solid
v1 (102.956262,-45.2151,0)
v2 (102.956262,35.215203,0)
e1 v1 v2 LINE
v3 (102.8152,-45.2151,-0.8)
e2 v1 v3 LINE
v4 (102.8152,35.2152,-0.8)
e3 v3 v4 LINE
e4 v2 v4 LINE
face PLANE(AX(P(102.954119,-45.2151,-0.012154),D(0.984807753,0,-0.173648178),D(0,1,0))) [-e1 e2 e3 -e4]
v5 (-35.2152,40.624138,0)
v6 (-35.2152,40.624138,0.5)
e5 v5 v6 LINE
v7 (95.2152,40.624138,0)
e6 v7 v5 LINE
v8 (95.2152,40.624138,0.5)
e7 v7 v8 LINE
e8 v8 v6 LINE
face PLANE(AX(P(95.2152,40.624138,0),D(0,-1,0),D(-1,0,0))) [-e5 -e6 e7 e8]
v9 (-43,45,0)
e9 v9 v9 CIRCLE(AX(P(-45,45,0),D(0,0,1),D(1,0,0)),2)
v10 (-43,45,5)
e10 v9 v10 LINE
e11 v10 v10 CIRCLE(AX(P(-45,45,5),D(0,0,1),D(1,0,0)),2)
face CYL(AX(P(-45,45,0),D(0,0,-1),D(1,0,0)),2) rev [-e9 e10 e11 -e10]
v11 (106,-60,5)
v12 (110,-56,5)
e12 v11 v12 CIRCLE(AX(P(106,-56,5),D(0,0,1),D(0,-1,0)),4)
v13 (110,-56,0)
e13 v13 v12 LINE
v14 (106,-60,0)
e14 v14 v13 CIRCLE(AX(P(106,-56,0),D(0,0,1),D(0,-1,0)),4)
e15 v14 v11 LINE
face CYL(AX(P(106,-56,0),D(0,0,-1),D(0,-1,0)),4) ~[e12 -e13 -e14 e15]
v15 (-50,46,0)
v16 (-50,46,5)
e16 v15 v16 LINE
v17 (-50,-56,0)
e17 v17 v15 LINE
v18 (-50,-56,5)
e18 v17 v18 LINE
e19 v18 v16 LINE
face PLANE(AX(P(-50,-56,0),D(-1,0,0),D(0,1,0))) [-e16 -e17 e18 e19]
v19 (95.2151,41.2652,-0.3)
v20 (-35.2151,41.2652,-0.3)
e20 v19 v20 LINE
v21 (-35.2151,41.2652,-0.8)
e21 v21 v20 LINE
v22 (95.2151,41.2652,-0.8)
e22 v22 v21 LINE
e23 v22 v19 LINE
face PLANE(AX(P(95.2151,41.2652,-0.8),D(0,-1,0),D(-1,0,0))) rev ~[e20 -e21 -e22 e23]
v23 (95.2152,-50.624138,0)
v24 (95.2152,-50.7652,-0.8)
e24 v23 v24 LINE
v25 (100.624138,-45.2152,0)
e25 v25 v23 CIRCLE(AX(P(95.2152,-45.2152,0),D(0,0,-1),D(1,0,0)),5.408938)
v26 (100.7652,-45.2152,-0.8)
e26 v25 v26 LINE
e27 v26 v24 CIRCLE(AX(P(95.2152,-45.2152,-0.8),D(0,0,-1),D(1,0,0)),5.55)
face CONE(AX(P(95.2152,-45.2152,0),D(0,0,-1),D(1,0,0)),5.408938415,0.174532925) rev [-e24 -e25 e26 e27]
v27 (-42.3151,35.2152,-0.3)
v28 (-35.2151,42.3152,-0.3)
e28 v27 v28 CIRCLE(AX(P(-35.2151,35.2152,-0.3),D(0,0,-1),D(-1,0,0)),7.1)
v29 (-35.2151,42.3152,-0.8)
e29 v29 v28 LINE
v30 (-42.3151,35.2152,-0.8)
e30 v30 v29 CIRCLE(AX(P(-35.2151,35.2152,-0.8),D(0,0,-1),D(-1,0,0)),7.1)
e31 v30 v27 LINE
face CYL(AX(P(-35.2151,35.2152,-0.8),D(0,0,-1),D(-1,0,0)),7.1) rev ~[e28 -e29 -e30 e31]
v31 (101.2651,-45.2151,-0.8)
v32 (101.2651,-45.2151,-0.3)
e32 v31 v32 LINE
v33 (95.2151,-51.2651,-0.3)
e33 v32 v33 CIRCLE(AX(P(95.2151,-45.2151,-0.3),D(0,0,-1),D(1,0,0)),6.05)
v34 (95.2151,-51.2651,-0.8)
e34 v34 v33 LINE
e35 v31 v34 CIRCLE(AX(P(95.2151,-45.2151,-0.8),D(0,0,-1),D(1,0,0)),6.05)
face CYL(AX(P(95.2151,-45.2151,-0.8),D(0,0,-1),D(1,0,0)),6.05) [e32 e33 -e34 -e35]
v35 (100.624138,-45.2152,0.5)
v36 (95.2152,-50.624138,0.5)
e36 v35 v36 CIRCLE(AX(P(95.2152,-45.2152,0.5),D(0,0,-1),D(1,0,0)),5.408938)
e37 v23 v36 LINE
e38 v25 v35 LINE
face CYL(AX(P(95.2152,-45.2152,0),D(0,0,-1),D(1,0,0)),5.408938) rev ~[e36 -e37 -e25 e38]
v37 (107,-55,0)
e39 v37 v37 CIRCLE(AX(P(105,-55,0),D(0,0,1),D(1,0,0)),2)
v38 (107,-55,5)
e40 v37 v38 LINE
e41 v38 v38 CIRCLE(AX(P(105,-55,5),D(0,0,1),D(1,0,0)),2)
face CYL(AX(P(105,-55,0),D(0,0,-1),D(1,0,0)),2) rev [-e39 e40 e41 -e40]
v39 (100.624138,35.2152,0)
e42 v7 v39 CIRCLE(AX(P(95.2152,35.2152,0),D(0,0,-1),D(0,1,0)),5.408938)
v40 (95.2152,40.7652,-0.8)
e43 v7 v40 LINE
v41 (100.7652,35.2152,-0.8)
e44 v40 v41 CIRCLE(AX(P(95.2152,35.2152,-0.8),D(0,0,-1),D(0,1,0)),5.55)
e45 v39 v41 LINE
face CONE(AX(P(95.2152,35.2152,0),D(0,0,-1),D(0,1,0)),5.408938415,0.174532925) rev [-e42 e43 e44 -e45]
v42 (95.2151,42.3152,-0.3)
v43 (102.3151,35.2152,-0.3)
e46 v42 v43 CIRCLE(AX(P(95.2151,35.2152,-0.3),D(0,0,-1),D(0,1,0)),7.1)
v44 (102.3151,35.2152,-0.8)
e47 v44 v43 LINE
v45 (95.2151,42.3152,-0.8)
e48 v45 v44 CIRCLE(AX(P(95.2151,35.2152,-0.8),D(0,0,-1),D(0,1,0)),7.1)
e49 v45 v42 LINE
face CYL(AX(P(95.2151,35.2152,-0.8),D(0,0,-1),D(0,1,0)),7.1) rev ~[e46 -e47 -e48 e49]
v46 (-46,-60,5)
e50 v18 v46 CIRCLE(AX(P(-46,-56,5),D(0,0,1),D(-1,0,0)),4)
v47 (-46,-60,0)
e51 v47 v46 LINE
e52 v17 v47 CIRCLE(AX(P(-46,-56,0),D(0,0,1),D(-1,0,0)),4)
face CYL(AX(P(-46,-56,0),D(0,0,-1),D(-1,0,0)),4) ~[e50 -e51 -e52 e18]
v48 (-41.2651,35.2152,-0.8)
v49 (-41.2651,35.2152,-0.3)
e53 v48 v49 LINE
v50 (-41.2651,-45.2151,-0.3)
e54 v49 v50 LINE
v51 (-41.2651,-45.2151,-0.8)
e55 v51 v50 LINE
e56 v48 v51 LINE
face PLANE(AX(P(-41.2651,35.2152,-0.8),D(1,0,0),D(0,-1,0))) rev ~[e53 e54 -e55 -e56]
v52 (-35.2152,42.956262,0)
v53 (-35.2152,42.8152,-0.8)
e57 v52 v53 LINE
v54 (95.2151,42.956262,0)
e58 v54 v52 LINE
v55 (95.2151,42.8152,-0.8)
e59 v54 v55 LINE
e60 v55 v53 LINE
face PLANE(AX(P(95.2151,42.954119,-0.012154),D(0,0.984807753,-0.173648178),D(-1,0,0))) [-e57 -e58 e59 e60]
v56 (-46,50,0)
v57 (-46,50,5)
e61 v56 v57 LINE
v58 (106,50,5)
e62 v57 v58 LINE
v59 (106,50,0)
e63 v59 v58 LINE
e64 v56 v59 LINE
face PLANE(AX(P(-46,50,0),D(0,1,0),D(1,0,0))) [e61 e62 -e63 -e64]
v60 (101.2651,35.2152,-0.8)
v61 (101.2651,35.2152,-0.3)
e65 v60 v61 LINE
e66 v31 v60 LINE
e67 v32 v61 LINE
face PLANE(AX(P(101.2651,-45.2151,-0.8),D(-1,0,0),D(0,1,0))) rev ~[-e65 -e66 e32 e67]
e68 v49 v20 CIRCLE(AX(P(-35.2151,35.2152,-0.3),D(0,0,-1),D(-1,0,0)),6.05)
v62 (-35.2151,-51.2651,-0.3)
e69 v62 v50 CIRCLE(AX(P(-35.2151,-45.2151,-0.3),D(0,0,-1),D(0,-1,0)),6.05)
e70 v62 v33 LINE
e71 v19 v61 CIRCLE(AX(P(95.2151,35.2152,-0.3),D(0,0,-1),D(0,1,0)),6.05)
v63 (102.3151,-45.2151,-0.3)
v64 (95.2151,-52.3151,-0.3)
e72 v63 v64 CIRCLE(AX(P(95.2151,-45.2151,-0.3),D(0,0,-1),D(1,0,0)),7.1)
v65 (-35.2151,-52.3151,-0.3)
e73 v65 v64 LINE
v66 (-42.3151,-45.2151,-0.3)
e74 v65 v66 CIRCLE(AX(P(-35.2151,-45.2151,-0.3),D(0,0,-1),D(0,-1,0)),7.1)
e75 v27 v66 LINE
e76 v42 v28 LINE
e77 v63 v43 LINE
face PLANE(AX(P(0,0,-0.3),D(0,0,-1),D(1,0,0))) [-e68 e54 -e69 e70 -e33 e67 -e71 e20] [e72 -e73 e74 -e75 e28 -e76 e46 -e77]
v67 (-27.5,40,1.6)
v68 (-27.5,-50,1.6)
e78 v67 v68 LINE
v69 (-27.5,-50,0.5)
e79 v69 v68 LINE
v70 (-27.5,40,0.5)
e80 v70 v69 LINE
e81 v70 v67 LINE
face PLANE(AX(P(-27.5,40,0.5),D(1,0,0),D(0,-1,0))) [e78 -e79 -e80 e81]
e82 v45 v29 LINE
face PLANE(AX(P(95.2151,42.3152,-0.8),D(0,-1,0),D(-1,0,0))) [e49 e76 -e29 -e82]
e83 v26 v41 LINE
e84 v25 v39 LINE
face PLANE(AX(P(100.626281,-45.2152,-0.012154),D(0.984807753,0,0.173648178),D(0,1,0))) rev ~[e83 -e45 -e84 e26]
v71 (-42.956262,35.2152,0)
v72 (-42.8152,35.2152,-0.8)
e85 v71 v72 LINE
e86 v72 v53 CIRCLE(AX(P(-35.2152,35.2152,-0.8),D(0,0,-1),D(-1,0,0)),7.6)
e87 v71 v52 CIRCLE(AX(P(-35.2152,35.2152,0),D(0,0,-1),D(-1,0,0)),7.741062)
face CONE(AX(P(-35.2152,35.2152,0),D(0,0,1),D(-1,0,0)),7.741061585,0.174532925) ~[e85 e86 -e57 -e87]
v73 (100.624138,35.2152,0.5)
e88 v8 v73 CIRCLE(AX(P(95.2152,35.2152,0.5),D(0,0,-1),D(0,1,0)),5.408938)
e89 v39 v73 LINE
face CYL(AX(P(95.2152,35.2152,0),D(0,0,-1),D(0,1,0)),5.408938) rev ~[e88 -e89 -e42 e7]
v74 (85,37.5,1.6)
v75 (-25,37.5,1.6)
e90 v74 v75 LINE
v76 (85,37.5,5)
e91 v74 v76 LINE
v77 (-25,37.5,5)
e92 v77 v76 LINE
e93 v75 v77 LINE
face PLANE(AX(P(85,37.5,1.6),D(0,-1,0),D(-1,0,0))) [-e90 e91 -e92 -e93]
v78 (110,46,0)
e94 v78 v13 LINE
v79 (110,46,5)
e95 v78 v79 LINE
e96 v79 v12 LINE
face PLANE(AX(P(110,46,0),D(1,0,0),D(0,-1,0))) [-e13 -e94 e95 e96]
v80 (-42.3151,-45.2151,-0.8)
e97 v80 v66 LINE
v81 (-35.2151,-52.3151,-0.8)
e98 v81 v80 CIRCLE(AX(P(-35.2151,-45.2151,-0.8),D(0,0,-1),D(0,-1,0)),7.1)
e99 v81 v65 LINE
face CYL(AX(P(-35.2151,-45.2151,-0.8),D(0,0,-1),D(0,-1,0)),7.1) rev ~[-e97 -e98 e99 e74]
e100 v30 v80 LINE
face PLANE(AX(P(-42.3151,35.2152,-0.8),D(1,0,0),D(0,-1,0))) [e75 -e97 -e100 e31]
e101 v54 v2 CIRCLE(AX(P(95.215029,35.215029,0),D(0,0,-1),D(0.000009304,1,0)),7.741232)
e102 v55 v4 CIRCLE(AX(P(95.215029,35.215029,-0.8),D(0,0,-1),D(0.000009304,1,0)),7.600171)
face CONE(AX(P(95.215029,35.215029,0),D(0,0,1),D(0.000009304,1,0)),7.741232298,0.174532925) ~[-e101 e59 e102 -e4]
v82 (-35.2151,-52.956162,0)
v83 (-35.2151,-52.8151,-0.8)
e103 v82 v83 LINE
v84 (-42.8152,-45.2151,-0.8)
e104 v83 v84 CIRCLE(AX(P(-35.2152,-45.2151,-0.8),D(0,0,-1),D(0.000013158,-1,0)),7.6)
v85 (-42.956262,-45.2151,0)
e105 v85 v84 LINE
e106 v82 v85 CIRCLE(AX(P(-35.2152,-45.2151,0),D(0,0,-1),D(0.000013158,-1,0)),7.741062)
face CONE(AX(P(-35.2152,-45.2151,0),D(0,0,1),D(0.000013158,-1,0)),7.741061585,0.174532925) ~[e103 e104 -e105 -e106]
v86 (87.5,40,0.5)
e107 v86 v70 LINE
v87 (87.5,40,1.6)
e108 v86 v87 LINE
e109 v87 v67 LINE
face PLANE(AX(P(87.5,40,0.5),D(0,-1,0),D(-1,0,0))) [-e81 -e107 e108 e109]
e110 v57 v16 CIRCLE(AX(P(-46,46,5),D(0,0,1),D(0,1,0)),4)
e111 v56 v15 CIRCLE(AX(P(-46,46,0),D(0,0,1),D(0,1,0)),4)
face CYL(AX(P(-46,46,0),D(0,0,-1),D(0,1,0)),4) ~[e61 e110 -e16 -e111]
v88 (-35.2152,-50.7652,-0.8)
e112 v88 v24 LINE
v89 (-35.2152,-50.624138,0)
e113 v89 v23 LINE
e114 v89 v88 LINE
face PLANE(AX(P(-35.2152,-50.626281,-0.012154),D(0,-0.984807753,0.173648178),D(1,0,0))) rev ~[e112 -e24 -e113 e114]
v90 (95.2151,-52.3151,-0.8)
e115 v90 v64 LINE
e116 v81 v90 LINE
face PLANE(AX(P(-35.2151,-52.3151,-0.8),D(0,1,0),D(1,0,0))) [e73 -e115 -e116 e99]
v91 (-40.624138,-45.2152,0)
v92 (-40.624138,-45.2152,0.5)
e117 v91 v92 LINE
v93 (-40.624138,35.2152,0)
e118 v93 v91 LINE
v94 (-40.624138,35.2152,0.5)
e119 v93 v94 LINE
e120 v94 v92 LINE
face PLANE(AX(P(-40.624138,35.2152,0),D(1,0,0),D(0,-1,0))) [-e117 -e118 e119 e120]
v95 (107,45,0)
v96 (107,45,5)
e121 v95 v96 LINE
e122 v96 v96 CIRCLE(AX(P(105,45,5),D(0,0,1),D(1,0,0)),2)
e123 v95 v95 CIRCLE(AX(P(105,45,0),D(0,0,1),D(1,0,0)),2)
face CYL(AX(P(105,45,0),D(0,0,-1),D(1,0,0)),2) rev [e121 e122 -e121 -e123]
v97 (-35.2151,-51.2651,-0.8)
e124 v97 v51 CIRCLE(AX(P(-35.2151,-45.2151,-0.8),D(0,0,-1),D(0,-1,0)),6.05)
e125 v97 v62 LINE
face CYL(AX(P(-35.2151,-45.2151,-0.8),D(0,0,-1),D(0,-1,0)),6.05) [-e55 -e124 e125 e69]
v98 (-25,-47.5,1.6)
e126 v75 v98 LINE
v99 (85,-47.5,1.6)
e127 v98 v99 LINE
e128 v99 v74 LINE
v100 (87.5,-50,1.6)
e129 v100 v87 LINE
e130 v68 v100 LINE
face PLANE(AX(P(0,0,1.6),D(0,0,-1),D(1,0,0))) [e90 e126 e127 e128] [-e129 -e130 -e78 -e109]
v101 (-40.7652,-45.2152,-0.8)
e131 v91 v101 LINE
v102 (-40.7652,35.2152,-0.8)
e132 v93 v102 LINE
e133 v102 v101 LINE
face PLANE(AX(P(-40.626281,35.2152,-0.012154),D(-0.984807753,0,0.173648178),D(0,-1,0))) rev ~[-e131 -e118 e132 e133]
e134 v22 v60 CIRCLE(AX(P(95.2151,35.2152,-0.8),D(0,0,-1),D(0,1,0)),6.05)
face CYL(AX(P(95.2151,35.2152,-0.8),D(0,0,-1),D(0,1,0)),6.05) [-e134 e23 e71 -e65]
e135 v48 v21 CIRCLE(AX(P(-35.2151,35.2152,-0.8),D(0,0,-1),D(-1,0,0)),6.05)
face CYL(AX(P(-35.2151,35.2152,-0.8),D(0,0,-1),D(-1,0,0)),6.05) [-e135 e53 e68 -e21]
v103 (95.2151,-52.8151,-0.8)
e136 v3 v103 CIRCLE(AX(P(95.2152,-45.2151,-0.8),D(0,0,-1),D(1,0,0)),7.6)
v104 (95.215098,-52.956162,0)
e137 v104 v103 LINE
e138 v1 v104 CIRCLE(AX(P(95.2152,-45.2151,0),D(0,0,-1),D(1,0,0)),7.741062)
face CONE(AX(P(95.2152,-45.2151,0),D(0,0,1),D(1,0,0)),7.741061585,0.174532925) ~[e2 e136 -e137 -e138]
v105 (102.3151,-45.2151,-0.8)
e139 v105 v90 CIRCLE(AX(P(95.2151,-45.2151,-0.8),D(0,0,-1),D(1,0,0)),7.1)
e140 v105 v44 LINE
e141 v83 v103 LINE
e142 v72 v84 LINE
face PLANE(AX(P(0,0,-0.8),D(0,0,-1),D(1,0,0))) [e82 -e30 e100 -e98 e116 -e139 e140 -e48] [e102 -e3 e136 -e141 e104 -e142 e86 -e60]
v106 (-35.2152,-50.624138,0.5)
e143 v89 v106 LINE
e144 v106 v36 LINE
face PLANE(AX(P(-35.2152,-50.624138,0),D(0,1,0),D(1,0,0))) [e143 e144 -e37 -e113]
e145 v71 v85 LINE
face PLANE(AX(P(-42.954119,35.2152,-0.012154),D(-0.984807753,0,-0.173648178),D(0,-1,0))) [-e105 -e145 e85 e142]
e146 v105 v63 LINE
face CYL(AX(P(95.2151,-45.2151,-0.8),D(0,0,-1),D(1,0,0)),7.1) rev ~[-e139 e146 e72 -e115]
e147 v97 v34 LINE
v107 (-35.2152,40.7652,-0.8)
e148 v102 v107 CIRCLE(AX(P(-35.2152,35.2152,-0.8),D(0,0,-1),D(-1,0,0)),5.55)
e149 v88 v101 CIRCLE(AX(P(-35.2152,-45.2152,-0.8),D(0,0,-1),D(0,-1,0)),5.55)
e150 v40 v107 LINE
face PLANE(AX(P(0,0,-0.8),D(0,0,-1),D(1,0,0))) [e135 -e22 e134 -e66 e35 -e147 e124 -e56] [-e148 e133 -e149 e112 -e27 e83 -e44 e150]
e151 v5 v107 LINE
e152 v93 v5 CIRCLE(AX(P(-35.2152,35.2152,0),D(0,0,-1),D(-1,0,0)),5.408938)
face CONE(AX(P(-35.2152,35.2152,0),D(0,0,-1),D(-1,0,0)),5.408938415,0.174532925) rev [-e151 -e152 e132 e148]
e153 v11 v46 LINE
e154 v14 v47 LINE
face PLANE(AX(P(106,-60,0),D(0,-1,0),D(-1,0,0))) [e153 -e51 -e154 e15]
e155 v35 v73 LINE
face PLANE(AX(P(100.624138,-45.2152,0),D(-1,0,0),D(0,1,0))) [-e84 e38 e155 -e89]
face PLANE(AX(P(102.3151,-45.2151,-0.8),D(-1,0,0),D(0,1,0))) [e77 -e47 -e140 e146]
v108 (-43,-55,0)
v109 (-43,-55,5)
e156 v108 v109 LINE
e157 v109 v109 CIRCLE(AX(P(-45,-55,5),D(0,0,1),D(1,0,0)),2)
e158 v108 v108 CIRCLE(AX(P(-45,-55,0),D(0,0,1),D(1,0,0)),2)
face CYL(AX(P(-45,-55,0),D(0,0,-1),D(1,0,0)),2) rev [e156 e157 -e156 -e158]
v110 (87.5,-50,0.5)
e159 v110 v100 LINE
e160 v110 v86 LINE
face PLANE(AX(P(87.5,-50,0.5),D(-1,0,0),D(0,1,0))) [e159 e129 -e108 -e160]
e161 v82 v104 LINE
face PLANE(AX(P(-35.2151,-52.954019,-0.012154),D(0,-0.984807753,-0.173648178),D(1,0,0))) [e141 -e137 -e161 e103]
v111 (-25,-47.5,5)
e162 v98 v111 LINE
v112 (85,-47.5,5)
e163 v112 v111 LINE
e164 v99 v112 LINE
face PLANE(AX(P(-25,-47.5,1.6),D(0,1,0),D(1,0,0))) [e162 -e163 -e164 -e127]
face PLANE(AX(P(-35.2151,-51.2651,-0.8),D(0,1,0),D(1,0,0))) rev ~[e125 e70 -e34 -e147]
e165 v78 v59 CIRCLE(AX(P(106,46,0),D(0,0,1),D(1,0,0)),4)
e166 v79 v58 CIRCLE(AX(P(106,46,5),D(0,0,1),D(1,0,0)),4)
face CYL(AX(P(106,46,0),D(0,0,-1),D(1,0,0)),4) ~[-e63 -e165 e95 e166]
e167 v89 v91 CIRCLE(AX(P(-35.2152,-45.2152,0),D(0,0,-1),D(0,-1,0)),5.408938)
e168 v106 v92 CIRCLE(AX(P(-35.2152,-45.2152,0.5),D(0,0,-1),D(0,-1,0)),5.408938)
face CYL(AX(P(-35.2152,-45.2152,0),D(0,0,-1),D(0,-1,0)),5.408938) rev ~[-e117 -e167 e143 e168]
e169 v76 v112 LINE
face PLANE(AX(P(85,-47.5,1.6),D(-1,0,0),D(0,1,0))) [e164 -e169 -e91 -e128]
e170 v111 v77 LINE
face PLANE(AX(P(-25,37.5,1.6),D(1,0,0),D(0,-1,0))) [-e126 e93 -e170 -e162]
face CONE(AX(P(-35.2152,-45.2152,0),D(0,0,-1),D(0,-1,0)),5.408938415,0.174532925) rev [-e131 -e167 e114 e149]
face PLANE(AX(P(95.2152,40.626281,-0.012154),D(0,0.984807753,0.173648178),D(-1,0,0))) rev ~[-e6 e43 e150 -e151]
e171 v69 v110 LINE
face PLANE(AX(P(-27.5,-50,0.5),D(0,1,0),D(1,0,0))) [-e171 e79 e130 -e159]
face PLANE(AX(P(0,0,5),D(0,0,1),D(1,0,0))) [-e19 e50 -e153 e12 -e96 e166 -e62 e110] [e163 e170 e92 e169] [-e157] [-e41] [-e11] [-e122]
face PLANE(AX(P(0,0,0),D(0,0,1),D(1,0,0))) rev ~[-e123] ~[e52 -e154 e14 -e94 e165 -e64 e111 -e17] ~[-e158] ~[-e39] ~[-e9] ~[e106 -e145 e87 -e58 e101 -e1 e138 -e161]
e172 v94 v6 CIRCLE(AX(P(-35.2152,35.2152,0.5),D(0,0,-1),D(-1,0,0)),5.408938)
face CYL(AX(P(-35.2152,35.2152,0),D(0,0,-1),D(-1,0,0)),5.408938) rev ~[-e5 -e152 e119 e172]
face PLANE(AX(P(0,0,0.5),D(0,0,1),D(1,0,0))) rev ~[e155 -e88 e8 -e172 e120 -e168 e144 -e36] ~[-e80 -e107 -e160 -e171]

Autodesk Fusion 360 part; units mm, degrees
sketch "Sketch2" plane through (0, 0, 0) normal (0, 0, 1) x (1, 0, 0)
  line L0 (-46, 50) -> (106, 50)
  line L1 (110, 46) -> (110, -56)
  line L2 (106, -60) -> (-46, -60)
  line L3 (-50, -56) -> (-50, 46)
  circle A0 centre (-45, 45) radius 2
  line L4 (30, -60) -> (30, 50) construction
  line L5 (-50, -5) -> (110, -5) construction
  arc A1 (-46, 50) -> (-50, 46) centre (-46, 46) ccw
  circle A2 centre (105, 45) radius 2
  arc A3 (110, 46) -> (106, 50) centre (106, 46) ccw
  circle A4 centre (105, -55) radius 2
  arc A5 (106, -60) -> (110, -56) centre (106, -56) ccw
  circle A6 centre (-45, -55) radius 2
  arc A7 (-50, -56) -> (-46, -60) centre (-46, -56) ccw
  point P0 (-50, 50)
  point P1 (110, 50)
  dimension "d3" = 4
  dimension "d4" = 5
  dimension "d5" = 5
  dimension "d6" = 4
  dimension "d63" = 160
  dimension "d64" = 110
extrude "Extrude1" add sketch "Sketch2" along normal blind 5
sketch "Sketch3" plane through (0, 0, 0) normal (0, 0, -1) x (1, 0, 0)
  circle A0 centre (105, 55) radius 2
  circle A1 centre (-45, 55) radius 2
  circle A2 centre (-45, -45) radius 2
  circle A3 centre (105, -45) radius 2
  arc A4 (-50, -46) -> (-46, -50) centre (-46, -46) ccw
  line L0 (-46, -50) -> (106, -50)
  arc A5 (106, -50) -> (110, -46) centre (106, -46) ccw
  line L1 (110, -46) -> (110, 56)
  arc A6 (110, 56) -> (106, 60) centre (106, 56) ccw
  line L2 (106, 60) -> (-46, 60)
  arc A7 (-46, 60) -> (-50, 56) centre (-46, 56) ccw
  line L3 (-50, 56) -> (-50, -46)
  line L4 (30, 60) -> (30, -50) construction
  line L5 (110, 5) -> (-50, 5) construction
  line L6 (101.7902, -41.7902) -> (-41.7901, -41.7902) construction
  line L7 (-41.7901, -41.7902) -> (-41.7901, 51.7901) construction
  line L8 (-41.7901, 51.7901) -> (101.7902, 51.7901) construction
  line L9 (101.7902, 51.7901) -> (101.7902, -41.7902) construction
  line L10 (101.7902, -41.7902) -> (-41.7901, 51.7901) construction
  line L11 (-41.7901, -41.7902) -> (101.7902, 51.7901) construction
  line L12 (95.2151, -42.8152) -> (-35.2152, -42.8152)
  line L13 (-42.8152, -35.2152) -> (-42.8152, 45.2151)
  line L14 (-35.2151, 52.8151) -> (95.2151, 52.8151)
  line L15 (102.8152, 45.2151) -> (102.8152, -35.2152)
  line L16 (88.9278, -33.6958) -> (-42.8152, 52.8151) construction
  line L17 (-37.4412, -35.28) -> (85.6746, 38.2522) construction
  line L18 (-40.7652, -35.2152) -> (-40.7652, 45.2152)
  line L19 (-35.2152, 50.7652) -> (95.2152, 50.7652)
  line L20 (100.7652, 45.2152) -> (100.7652, -35.2152)
  line L21 (98.2241, -39.1218) -> (-40.7652, 50.7652) construction
  line L22 (-34.7613, -32.5014) -> (82.9436, 35.6581) construction
  arc A8 (-35.2152, 50.7652) -> (-40.7652, 45.2152) centre (-35.2152, 45.2152) ccw
  arc A9 (-35.2151, 52.8151) -> (-42.8152, 45.2151) centre (-35.2152, 45.2151) ccw
  arc A10 (100.7652, 45.2152) -> (95.2152, 50.7652) centre (95.2152, 45.2152) ccw
  arc A11 (102.8152, 45.2151) -> (95.2151, 52.8151) centre (95.2152, 45.2151) ccw
  arc A12 (-40.7652, -35.2152) -> (-35.2152, -40.7652) centre (-35.2152, -35.2152) ccw
  arc A13 (-42.8152, -35.2152) -> (-35.2152, -42.8152) centre (-35.2152, -35.2152) ccw
  arc A14 (95.2152, -40.7652) -> (100.7652, -35.2152) centre (95.2152, -35.2152) ccw
  arc A15 (95.2151, -42.8152) -> (102.8151, -35.2152) centre (95.2151, -35.2152) ccw
  line L23 (95.2152, -40.7652) -> (-35.2152, -40.7652)
  point P0 (30, 5)
  point P1 (30, 5)
  point P2 (30, 5)
  point P3 (30, 5)
  point P4 (30, 5)
  dimension "d25" = 143.5803
  dimension "d27" = 93.5803
  dimension "d28" = 1.025
  dimension "d29" = 1.025
  dimension "d30" = 1.025
  dimension "d31" = 1.025
  dimension "d44" = 5.55
  dimension "d45" = 7.6
extrude "Extrude4" add sketch "Sketch3" along normal blind 0.8 contours L12 L13 L14 L15 A9 A11 A13 A15
draft "Draft3" angle 10 neutral plane through (0, 0, -0.8) pull (0, 0, -1) 16 faces at (8.2616, -50.7652, -0.5333) (98.4345, -49.736, -0.5333) (100.7652, -18.4051, -0.5333) (96.5236, 40.6087, -0.5333) (8.2616, 40.7652, -0.5333) (-36.2655, 40.6649, -0.5333) (-40.7652, 8.4051, -0.2667) (-39.736, -48.4345, -0.5333) (-42.8152, 8.4051, -0.5333) (-41.1892, 39.9132, -0.5333) (8.2616, 42.8152, -0.2667) (101.7969, 39.0152, -0.5333) (102.8152, -18.405, -0.5333) (97.0069, -52.6009, -0.5333) (8.2616, -52.8151, -0.2667) (-42.3972, -47.7009, -0.5333)
sketch "Sketch5" plane through (0, 0, -0.8) normal (0, 0, -1) x (1, 0, 0)
  line L0 (-35.2152, 50.7652) -> (95.2152, 50.7652)
  line L1 (100.7652, 45.2152) -> (100.7652, -35.2152)
  line L2 (95.2152, -40.7652) -> (-35.2152, -40.7652)
  line L3 (-40.7652, -35.2152) -> (-40.7652, 45.2152)
  line L4 (95.2151, 52.8151) -> (-35.2151, 52.8151)
  line L5 (-42.8152, 45.2151) -> (-42.8152, -35.2152)
  line L6 (-35.2152, -42.8152) -> (95.2151, -42.8152)
  line L7 (102.8151, -35.2152) -> (102.8152, 45.2151)
  line L8 (30, 52.8151) -> (30, -42.8152) construction
  line L9 (102.8151, 5) -> (-42.8152, 5) construction
  line L10 (101.7901, -41.7902) -> (-41.7902, -41.7902) construction
  line L11 (-41.7902, -41.7902) -> (-41.7902, 51.7901) construction
  line L12 (-41.7902, 51.7901) -> (101.7901, 51.7901) construction
  line L13 (101.7901, 51.7901) -> (101.7901, -41.7902) construction
  line L14 (101.7901, -41.7902) -> (-41.7902, 51.7901) construction
  line L15 (-41.7902, -41.7902) -> (101.7901, 51.7901) construction
  line L16 (95.2151, -42.3152) -> (-35.2151, -42.3152)
  line L17 (-42.3151, -35.2152) -> (-42.3151, 45.2151)
  line L18 (-35.2151, 52.3151) -> (95.2151, 52.3151)
  line L19 (102.3151, 45.2151) -> (102.3151, -35.2152)
  line L20 (89.0725, -33.6506) -> (-42.3151, 52.3151) construction
  line L21 (-42.3151, -42.3152) -> (89.0725, 43.6506) construction
  line L22 (95.2151, -41.2652) -> (-35.2151, -41.2652)
  line L23 (-41.2651, -35.2152) -> (-41.2651, 45.2151)
  line L24 (101.2651, 45.2151) -> (101.2651, -35.2152)
  line L25 (88.0406, -32.6798) -> (-41.2651, 51.2651) construction
  line L26 (-41.2651, -41.2652) -> (88.0406, 42.6798) construction
  arc A0 (100.7652, 45.2152) -> (95.2152, 50.7652) centre (95.2152, 45.2152) ccw
  arc A1 (95.2152, -40.7652) -> (100.7652, -35.2152) centre (95.2152, -35.2152) ccw
  arc A2 (-40.7652, -35.2152) -> (-35.2152, -40.7652) centre (-35.2152, -35.2152) ccw
  arc A3 (-35.2152, 50.7652) -> (-40.7652, 45.2152) centre (-35.2152, 45.2152) ccw
  arc A4 (-42.8152, -35.2152) -> (-35.2152, -42.8152) centre (-35.2152, -35.2152) ccw
  arc A5 (95.2151, -42.8152) -> (102.8151, -35.2152) centre (95.2152, -35.2152) ccw
  arc A6 (102.8152, 45.2151) -> (95.2151, 52.8152) centre (95.2152, 45.2152) ccw
  arc A7 (-35.2151, 52.8151) -> (-42.8151, 45.2151) centre (-35.2152, 45.2152) ccw
  arc A8 (-35.2151, 51.2651) -> (-41.2651, 45.2151) centre (-35.2151, 45.2151) ccw
  arc A9 (-35.2151, 52.3151) -> (-42.3151, 45.2151) centre (-35.2151, 45.2151) ccw
  arc A10 (101.2651, 45.2151) -> (95.2151, 51.2651) centre (95.2151, 45.2151) ccw
  arc A11 (102.3151, 45.2151) -> (95.2151, 52.3151) centre (95.2151, 45.2151) ccw
  line L27 (-35.2151, 51.2651) -> (95.2151, 51.2651)
  arc A12 (95.2151, -41.2652) -> (101.2651, -35.2152) centre (95.2151, -35.2152) ccw
  arc A13 (95.2151, -42.3152) -> (102.3151, -35.2152) centre (95.2151, -35.2152) ccw
  arc A14 (-41.2651, -35.2152) -> (-35.2151, -41.2652) centre (-35.2151, -35.2152) ccw
  arc A15 (-42.3151, -35.2152) -> (-35.2151, -42.3152) centre (-35.2151, -35.2152) ccw
  point P0 (30, 5)
  point P1 (30, 5)
  point P2 (30, 5)
  dimension "d36" = 143.5803
  dimension "d37" = 93.5803
  dimension "d38" = 0.525
  dimension "d39" = 0.525
  dimension "d40" = 0.525
  dimension "d41" = 0.525
  dimension "d50" = 6.05
  dimension "d51" = 7.1
extrude "Extrude6" cut sketch "Sketch5" against normal blind 0.5 contours L16 L17 L18 L19 A9 A11 A13 A15
extrude "Extrude7" cut 1 faces at (51.7384, -20.208, 0) along direction (0, 0, 1) blind 0.5
sketch "Sketch6" plane through (0, 0, 0.5) normal (0, 0, -1) x (1, 0, 0)
  line L0 (95.2152, 50.6241) -> (-35.2152, 50.6241)
  arc A0 (-35.2152, 50.6241) -> (-40.6241, 45.2152) centre (-35.2152, 45.2152) ccw
  line L1 (-40.6241, 45.2152) -> (-40.6241, -35.2152)
  arc A1 (-40.6241, -35.2152) -> (-35.2152, -40.6241) centre (-35.2152, -35.2152) ccw
  line L2 (-35.2152, -40.6241) -> (95.2152, -40.6241)
  arc A2 (95.2152, -40.6241) -> (100.6241, -35.2152) centre (95.2152, -35.2152) ccw
  line L3 (100.6241, -35.2152) -> (100.6241, 45.2152)
  arc A3 (100.6241, 45.2152) -> (95.2152, 50.6241) centre (95.2152, 45.2152) ccw
  line L4 (30, 50.6241) -> (30, -40.6241) construction
  line L5 (-40.6241, 5) -> (100.6241, 5) construction
  line L6 (87.5, -40) -> (-27.5, -40)
  line L7 (-27.5, -40) -> (-27.5, 50)
  line L8 (-27.5, 50) -> (87.5, 50)
  line L9 (87.5, 50) -> (87.5, -40)
  line L10 (87.5, -40) -> (-27.5, 50) construction
  line L11 (-27.5, -40) -> (87.5, 50) construction
  point P0 (30, 5)
  dimension "d58" = 115
  dimension "d59" = 90
extrude "Extrude8" cut sketch "Sketch6" against normal blind 1.1 contours L6 L7 L8 L9
sketch "Sketch7" plane through (0, 0, 1.6) normal (0, 0, -1) x (1, 0, 0)
  line L0 (87.5, 50) -> (-27.5, 50)
  line L1 (-27.5, 50) -> (-27.5, -40)
  line L2 (-27.5, -40) -> (87.5, -40)
  line L3 (87.5, -40) -> (87.5, 50)
  line L4 (30, 50) -> (30, -40) construction
  line L5 (87.5, 5) -> (-27.5, 5) construction
  line L6 (85, -37.5) -> (-25, -37.5)
  line L7 (-25, -37.5) -> (-25, 47.5)
  line L8 (-25, 47.5) -> (85, 47.5)
  line L9 (85, 47.5) -> (85, -37.5)
  line L10 (85, -37.5) -> (-25, 47.5) construction
  line L11 (-25, -37.5) -> (85, 47.5) construction
  point P0 (30, 5)
  dimension "d62" = 110
  dimension "d65" = 85
extrude "Extrude9" cut sketch "Sketch7" against normal blind 8.4 contours L6 L7 L8 L9
equation "ORingDiameter = 1 mm" comment "Diamter of the O ring"
equation "ORingInnerDiameter = 150 mm" comment "Inner diamter of the o ring bore"
equation "d25 = ( ORingPerimeter - 100 mm ) / 4 + 50 mm"
equation "ORingPerimeter = 2 * 3.1412 * ( ( ORingInnerDiameter / 2 ) + ORingDiameter / 2 )"
equation "d27 = ( ORingPerimeter - 100 mm ) / 4"
equation "d28 = ( ( ORingDiameter * 1.05 ) / 2 ) + 0.5 mm"
equation "d29 = ( ( ORingDiameter * 1.05 ) / 2 ) + 0.5 mm"
equation "d30 = ( ( ORingDiameter * 1.05 ) / 2 ) + 0.5 mm"
equation "d31 = ( ( ORingDiameter * 1.05 ) / 2 ) + 0.5 mm"
equation "d32 = ORingDiameter * 0.8"
equation "d36 = ( ORingPerimeter - 100 mm ) / 4 + 50 mm"
equation "d37 = ( ORingPerimeter - 100 mm ) / 4"
equation "d38 = ( ORingDiameter * 1.05 ) / 2"
equation "d39 = ( ORingDiameter * 1.05 ) / 2"
equation "d40 = ( ORingDiameter * 1.05 ) / 2"
equation "d41 = ( ORingDiameter * 1.05 ) / 2"
equation "d44 = ( ORingDiameter ) * 6 + ORingDiameter * 0.05 - 0.5 mm"
equation "d45 = ( ORingDiameter ) * 6 + ( ORingDiameter * 1.1 ) + 0.5 mm"
equation "d50 = ( ORingDiameter ) * 6 + ORingDiameter * 0.05 - 0.0 mm"
equation "d51 = ( ORingDiameter ) * 6 + ORingDiameter * 1.1 + 0 mm"
equation "PanelWidth = 90 mm"
equation "PanelLength = 115 mm"
equation "d58 = PanelLength"
equation "d59 = PanelWidth"
equation "d62 = PanelLength - 5 mm"
equation "d65 = PanelWidth - 5 mm"
